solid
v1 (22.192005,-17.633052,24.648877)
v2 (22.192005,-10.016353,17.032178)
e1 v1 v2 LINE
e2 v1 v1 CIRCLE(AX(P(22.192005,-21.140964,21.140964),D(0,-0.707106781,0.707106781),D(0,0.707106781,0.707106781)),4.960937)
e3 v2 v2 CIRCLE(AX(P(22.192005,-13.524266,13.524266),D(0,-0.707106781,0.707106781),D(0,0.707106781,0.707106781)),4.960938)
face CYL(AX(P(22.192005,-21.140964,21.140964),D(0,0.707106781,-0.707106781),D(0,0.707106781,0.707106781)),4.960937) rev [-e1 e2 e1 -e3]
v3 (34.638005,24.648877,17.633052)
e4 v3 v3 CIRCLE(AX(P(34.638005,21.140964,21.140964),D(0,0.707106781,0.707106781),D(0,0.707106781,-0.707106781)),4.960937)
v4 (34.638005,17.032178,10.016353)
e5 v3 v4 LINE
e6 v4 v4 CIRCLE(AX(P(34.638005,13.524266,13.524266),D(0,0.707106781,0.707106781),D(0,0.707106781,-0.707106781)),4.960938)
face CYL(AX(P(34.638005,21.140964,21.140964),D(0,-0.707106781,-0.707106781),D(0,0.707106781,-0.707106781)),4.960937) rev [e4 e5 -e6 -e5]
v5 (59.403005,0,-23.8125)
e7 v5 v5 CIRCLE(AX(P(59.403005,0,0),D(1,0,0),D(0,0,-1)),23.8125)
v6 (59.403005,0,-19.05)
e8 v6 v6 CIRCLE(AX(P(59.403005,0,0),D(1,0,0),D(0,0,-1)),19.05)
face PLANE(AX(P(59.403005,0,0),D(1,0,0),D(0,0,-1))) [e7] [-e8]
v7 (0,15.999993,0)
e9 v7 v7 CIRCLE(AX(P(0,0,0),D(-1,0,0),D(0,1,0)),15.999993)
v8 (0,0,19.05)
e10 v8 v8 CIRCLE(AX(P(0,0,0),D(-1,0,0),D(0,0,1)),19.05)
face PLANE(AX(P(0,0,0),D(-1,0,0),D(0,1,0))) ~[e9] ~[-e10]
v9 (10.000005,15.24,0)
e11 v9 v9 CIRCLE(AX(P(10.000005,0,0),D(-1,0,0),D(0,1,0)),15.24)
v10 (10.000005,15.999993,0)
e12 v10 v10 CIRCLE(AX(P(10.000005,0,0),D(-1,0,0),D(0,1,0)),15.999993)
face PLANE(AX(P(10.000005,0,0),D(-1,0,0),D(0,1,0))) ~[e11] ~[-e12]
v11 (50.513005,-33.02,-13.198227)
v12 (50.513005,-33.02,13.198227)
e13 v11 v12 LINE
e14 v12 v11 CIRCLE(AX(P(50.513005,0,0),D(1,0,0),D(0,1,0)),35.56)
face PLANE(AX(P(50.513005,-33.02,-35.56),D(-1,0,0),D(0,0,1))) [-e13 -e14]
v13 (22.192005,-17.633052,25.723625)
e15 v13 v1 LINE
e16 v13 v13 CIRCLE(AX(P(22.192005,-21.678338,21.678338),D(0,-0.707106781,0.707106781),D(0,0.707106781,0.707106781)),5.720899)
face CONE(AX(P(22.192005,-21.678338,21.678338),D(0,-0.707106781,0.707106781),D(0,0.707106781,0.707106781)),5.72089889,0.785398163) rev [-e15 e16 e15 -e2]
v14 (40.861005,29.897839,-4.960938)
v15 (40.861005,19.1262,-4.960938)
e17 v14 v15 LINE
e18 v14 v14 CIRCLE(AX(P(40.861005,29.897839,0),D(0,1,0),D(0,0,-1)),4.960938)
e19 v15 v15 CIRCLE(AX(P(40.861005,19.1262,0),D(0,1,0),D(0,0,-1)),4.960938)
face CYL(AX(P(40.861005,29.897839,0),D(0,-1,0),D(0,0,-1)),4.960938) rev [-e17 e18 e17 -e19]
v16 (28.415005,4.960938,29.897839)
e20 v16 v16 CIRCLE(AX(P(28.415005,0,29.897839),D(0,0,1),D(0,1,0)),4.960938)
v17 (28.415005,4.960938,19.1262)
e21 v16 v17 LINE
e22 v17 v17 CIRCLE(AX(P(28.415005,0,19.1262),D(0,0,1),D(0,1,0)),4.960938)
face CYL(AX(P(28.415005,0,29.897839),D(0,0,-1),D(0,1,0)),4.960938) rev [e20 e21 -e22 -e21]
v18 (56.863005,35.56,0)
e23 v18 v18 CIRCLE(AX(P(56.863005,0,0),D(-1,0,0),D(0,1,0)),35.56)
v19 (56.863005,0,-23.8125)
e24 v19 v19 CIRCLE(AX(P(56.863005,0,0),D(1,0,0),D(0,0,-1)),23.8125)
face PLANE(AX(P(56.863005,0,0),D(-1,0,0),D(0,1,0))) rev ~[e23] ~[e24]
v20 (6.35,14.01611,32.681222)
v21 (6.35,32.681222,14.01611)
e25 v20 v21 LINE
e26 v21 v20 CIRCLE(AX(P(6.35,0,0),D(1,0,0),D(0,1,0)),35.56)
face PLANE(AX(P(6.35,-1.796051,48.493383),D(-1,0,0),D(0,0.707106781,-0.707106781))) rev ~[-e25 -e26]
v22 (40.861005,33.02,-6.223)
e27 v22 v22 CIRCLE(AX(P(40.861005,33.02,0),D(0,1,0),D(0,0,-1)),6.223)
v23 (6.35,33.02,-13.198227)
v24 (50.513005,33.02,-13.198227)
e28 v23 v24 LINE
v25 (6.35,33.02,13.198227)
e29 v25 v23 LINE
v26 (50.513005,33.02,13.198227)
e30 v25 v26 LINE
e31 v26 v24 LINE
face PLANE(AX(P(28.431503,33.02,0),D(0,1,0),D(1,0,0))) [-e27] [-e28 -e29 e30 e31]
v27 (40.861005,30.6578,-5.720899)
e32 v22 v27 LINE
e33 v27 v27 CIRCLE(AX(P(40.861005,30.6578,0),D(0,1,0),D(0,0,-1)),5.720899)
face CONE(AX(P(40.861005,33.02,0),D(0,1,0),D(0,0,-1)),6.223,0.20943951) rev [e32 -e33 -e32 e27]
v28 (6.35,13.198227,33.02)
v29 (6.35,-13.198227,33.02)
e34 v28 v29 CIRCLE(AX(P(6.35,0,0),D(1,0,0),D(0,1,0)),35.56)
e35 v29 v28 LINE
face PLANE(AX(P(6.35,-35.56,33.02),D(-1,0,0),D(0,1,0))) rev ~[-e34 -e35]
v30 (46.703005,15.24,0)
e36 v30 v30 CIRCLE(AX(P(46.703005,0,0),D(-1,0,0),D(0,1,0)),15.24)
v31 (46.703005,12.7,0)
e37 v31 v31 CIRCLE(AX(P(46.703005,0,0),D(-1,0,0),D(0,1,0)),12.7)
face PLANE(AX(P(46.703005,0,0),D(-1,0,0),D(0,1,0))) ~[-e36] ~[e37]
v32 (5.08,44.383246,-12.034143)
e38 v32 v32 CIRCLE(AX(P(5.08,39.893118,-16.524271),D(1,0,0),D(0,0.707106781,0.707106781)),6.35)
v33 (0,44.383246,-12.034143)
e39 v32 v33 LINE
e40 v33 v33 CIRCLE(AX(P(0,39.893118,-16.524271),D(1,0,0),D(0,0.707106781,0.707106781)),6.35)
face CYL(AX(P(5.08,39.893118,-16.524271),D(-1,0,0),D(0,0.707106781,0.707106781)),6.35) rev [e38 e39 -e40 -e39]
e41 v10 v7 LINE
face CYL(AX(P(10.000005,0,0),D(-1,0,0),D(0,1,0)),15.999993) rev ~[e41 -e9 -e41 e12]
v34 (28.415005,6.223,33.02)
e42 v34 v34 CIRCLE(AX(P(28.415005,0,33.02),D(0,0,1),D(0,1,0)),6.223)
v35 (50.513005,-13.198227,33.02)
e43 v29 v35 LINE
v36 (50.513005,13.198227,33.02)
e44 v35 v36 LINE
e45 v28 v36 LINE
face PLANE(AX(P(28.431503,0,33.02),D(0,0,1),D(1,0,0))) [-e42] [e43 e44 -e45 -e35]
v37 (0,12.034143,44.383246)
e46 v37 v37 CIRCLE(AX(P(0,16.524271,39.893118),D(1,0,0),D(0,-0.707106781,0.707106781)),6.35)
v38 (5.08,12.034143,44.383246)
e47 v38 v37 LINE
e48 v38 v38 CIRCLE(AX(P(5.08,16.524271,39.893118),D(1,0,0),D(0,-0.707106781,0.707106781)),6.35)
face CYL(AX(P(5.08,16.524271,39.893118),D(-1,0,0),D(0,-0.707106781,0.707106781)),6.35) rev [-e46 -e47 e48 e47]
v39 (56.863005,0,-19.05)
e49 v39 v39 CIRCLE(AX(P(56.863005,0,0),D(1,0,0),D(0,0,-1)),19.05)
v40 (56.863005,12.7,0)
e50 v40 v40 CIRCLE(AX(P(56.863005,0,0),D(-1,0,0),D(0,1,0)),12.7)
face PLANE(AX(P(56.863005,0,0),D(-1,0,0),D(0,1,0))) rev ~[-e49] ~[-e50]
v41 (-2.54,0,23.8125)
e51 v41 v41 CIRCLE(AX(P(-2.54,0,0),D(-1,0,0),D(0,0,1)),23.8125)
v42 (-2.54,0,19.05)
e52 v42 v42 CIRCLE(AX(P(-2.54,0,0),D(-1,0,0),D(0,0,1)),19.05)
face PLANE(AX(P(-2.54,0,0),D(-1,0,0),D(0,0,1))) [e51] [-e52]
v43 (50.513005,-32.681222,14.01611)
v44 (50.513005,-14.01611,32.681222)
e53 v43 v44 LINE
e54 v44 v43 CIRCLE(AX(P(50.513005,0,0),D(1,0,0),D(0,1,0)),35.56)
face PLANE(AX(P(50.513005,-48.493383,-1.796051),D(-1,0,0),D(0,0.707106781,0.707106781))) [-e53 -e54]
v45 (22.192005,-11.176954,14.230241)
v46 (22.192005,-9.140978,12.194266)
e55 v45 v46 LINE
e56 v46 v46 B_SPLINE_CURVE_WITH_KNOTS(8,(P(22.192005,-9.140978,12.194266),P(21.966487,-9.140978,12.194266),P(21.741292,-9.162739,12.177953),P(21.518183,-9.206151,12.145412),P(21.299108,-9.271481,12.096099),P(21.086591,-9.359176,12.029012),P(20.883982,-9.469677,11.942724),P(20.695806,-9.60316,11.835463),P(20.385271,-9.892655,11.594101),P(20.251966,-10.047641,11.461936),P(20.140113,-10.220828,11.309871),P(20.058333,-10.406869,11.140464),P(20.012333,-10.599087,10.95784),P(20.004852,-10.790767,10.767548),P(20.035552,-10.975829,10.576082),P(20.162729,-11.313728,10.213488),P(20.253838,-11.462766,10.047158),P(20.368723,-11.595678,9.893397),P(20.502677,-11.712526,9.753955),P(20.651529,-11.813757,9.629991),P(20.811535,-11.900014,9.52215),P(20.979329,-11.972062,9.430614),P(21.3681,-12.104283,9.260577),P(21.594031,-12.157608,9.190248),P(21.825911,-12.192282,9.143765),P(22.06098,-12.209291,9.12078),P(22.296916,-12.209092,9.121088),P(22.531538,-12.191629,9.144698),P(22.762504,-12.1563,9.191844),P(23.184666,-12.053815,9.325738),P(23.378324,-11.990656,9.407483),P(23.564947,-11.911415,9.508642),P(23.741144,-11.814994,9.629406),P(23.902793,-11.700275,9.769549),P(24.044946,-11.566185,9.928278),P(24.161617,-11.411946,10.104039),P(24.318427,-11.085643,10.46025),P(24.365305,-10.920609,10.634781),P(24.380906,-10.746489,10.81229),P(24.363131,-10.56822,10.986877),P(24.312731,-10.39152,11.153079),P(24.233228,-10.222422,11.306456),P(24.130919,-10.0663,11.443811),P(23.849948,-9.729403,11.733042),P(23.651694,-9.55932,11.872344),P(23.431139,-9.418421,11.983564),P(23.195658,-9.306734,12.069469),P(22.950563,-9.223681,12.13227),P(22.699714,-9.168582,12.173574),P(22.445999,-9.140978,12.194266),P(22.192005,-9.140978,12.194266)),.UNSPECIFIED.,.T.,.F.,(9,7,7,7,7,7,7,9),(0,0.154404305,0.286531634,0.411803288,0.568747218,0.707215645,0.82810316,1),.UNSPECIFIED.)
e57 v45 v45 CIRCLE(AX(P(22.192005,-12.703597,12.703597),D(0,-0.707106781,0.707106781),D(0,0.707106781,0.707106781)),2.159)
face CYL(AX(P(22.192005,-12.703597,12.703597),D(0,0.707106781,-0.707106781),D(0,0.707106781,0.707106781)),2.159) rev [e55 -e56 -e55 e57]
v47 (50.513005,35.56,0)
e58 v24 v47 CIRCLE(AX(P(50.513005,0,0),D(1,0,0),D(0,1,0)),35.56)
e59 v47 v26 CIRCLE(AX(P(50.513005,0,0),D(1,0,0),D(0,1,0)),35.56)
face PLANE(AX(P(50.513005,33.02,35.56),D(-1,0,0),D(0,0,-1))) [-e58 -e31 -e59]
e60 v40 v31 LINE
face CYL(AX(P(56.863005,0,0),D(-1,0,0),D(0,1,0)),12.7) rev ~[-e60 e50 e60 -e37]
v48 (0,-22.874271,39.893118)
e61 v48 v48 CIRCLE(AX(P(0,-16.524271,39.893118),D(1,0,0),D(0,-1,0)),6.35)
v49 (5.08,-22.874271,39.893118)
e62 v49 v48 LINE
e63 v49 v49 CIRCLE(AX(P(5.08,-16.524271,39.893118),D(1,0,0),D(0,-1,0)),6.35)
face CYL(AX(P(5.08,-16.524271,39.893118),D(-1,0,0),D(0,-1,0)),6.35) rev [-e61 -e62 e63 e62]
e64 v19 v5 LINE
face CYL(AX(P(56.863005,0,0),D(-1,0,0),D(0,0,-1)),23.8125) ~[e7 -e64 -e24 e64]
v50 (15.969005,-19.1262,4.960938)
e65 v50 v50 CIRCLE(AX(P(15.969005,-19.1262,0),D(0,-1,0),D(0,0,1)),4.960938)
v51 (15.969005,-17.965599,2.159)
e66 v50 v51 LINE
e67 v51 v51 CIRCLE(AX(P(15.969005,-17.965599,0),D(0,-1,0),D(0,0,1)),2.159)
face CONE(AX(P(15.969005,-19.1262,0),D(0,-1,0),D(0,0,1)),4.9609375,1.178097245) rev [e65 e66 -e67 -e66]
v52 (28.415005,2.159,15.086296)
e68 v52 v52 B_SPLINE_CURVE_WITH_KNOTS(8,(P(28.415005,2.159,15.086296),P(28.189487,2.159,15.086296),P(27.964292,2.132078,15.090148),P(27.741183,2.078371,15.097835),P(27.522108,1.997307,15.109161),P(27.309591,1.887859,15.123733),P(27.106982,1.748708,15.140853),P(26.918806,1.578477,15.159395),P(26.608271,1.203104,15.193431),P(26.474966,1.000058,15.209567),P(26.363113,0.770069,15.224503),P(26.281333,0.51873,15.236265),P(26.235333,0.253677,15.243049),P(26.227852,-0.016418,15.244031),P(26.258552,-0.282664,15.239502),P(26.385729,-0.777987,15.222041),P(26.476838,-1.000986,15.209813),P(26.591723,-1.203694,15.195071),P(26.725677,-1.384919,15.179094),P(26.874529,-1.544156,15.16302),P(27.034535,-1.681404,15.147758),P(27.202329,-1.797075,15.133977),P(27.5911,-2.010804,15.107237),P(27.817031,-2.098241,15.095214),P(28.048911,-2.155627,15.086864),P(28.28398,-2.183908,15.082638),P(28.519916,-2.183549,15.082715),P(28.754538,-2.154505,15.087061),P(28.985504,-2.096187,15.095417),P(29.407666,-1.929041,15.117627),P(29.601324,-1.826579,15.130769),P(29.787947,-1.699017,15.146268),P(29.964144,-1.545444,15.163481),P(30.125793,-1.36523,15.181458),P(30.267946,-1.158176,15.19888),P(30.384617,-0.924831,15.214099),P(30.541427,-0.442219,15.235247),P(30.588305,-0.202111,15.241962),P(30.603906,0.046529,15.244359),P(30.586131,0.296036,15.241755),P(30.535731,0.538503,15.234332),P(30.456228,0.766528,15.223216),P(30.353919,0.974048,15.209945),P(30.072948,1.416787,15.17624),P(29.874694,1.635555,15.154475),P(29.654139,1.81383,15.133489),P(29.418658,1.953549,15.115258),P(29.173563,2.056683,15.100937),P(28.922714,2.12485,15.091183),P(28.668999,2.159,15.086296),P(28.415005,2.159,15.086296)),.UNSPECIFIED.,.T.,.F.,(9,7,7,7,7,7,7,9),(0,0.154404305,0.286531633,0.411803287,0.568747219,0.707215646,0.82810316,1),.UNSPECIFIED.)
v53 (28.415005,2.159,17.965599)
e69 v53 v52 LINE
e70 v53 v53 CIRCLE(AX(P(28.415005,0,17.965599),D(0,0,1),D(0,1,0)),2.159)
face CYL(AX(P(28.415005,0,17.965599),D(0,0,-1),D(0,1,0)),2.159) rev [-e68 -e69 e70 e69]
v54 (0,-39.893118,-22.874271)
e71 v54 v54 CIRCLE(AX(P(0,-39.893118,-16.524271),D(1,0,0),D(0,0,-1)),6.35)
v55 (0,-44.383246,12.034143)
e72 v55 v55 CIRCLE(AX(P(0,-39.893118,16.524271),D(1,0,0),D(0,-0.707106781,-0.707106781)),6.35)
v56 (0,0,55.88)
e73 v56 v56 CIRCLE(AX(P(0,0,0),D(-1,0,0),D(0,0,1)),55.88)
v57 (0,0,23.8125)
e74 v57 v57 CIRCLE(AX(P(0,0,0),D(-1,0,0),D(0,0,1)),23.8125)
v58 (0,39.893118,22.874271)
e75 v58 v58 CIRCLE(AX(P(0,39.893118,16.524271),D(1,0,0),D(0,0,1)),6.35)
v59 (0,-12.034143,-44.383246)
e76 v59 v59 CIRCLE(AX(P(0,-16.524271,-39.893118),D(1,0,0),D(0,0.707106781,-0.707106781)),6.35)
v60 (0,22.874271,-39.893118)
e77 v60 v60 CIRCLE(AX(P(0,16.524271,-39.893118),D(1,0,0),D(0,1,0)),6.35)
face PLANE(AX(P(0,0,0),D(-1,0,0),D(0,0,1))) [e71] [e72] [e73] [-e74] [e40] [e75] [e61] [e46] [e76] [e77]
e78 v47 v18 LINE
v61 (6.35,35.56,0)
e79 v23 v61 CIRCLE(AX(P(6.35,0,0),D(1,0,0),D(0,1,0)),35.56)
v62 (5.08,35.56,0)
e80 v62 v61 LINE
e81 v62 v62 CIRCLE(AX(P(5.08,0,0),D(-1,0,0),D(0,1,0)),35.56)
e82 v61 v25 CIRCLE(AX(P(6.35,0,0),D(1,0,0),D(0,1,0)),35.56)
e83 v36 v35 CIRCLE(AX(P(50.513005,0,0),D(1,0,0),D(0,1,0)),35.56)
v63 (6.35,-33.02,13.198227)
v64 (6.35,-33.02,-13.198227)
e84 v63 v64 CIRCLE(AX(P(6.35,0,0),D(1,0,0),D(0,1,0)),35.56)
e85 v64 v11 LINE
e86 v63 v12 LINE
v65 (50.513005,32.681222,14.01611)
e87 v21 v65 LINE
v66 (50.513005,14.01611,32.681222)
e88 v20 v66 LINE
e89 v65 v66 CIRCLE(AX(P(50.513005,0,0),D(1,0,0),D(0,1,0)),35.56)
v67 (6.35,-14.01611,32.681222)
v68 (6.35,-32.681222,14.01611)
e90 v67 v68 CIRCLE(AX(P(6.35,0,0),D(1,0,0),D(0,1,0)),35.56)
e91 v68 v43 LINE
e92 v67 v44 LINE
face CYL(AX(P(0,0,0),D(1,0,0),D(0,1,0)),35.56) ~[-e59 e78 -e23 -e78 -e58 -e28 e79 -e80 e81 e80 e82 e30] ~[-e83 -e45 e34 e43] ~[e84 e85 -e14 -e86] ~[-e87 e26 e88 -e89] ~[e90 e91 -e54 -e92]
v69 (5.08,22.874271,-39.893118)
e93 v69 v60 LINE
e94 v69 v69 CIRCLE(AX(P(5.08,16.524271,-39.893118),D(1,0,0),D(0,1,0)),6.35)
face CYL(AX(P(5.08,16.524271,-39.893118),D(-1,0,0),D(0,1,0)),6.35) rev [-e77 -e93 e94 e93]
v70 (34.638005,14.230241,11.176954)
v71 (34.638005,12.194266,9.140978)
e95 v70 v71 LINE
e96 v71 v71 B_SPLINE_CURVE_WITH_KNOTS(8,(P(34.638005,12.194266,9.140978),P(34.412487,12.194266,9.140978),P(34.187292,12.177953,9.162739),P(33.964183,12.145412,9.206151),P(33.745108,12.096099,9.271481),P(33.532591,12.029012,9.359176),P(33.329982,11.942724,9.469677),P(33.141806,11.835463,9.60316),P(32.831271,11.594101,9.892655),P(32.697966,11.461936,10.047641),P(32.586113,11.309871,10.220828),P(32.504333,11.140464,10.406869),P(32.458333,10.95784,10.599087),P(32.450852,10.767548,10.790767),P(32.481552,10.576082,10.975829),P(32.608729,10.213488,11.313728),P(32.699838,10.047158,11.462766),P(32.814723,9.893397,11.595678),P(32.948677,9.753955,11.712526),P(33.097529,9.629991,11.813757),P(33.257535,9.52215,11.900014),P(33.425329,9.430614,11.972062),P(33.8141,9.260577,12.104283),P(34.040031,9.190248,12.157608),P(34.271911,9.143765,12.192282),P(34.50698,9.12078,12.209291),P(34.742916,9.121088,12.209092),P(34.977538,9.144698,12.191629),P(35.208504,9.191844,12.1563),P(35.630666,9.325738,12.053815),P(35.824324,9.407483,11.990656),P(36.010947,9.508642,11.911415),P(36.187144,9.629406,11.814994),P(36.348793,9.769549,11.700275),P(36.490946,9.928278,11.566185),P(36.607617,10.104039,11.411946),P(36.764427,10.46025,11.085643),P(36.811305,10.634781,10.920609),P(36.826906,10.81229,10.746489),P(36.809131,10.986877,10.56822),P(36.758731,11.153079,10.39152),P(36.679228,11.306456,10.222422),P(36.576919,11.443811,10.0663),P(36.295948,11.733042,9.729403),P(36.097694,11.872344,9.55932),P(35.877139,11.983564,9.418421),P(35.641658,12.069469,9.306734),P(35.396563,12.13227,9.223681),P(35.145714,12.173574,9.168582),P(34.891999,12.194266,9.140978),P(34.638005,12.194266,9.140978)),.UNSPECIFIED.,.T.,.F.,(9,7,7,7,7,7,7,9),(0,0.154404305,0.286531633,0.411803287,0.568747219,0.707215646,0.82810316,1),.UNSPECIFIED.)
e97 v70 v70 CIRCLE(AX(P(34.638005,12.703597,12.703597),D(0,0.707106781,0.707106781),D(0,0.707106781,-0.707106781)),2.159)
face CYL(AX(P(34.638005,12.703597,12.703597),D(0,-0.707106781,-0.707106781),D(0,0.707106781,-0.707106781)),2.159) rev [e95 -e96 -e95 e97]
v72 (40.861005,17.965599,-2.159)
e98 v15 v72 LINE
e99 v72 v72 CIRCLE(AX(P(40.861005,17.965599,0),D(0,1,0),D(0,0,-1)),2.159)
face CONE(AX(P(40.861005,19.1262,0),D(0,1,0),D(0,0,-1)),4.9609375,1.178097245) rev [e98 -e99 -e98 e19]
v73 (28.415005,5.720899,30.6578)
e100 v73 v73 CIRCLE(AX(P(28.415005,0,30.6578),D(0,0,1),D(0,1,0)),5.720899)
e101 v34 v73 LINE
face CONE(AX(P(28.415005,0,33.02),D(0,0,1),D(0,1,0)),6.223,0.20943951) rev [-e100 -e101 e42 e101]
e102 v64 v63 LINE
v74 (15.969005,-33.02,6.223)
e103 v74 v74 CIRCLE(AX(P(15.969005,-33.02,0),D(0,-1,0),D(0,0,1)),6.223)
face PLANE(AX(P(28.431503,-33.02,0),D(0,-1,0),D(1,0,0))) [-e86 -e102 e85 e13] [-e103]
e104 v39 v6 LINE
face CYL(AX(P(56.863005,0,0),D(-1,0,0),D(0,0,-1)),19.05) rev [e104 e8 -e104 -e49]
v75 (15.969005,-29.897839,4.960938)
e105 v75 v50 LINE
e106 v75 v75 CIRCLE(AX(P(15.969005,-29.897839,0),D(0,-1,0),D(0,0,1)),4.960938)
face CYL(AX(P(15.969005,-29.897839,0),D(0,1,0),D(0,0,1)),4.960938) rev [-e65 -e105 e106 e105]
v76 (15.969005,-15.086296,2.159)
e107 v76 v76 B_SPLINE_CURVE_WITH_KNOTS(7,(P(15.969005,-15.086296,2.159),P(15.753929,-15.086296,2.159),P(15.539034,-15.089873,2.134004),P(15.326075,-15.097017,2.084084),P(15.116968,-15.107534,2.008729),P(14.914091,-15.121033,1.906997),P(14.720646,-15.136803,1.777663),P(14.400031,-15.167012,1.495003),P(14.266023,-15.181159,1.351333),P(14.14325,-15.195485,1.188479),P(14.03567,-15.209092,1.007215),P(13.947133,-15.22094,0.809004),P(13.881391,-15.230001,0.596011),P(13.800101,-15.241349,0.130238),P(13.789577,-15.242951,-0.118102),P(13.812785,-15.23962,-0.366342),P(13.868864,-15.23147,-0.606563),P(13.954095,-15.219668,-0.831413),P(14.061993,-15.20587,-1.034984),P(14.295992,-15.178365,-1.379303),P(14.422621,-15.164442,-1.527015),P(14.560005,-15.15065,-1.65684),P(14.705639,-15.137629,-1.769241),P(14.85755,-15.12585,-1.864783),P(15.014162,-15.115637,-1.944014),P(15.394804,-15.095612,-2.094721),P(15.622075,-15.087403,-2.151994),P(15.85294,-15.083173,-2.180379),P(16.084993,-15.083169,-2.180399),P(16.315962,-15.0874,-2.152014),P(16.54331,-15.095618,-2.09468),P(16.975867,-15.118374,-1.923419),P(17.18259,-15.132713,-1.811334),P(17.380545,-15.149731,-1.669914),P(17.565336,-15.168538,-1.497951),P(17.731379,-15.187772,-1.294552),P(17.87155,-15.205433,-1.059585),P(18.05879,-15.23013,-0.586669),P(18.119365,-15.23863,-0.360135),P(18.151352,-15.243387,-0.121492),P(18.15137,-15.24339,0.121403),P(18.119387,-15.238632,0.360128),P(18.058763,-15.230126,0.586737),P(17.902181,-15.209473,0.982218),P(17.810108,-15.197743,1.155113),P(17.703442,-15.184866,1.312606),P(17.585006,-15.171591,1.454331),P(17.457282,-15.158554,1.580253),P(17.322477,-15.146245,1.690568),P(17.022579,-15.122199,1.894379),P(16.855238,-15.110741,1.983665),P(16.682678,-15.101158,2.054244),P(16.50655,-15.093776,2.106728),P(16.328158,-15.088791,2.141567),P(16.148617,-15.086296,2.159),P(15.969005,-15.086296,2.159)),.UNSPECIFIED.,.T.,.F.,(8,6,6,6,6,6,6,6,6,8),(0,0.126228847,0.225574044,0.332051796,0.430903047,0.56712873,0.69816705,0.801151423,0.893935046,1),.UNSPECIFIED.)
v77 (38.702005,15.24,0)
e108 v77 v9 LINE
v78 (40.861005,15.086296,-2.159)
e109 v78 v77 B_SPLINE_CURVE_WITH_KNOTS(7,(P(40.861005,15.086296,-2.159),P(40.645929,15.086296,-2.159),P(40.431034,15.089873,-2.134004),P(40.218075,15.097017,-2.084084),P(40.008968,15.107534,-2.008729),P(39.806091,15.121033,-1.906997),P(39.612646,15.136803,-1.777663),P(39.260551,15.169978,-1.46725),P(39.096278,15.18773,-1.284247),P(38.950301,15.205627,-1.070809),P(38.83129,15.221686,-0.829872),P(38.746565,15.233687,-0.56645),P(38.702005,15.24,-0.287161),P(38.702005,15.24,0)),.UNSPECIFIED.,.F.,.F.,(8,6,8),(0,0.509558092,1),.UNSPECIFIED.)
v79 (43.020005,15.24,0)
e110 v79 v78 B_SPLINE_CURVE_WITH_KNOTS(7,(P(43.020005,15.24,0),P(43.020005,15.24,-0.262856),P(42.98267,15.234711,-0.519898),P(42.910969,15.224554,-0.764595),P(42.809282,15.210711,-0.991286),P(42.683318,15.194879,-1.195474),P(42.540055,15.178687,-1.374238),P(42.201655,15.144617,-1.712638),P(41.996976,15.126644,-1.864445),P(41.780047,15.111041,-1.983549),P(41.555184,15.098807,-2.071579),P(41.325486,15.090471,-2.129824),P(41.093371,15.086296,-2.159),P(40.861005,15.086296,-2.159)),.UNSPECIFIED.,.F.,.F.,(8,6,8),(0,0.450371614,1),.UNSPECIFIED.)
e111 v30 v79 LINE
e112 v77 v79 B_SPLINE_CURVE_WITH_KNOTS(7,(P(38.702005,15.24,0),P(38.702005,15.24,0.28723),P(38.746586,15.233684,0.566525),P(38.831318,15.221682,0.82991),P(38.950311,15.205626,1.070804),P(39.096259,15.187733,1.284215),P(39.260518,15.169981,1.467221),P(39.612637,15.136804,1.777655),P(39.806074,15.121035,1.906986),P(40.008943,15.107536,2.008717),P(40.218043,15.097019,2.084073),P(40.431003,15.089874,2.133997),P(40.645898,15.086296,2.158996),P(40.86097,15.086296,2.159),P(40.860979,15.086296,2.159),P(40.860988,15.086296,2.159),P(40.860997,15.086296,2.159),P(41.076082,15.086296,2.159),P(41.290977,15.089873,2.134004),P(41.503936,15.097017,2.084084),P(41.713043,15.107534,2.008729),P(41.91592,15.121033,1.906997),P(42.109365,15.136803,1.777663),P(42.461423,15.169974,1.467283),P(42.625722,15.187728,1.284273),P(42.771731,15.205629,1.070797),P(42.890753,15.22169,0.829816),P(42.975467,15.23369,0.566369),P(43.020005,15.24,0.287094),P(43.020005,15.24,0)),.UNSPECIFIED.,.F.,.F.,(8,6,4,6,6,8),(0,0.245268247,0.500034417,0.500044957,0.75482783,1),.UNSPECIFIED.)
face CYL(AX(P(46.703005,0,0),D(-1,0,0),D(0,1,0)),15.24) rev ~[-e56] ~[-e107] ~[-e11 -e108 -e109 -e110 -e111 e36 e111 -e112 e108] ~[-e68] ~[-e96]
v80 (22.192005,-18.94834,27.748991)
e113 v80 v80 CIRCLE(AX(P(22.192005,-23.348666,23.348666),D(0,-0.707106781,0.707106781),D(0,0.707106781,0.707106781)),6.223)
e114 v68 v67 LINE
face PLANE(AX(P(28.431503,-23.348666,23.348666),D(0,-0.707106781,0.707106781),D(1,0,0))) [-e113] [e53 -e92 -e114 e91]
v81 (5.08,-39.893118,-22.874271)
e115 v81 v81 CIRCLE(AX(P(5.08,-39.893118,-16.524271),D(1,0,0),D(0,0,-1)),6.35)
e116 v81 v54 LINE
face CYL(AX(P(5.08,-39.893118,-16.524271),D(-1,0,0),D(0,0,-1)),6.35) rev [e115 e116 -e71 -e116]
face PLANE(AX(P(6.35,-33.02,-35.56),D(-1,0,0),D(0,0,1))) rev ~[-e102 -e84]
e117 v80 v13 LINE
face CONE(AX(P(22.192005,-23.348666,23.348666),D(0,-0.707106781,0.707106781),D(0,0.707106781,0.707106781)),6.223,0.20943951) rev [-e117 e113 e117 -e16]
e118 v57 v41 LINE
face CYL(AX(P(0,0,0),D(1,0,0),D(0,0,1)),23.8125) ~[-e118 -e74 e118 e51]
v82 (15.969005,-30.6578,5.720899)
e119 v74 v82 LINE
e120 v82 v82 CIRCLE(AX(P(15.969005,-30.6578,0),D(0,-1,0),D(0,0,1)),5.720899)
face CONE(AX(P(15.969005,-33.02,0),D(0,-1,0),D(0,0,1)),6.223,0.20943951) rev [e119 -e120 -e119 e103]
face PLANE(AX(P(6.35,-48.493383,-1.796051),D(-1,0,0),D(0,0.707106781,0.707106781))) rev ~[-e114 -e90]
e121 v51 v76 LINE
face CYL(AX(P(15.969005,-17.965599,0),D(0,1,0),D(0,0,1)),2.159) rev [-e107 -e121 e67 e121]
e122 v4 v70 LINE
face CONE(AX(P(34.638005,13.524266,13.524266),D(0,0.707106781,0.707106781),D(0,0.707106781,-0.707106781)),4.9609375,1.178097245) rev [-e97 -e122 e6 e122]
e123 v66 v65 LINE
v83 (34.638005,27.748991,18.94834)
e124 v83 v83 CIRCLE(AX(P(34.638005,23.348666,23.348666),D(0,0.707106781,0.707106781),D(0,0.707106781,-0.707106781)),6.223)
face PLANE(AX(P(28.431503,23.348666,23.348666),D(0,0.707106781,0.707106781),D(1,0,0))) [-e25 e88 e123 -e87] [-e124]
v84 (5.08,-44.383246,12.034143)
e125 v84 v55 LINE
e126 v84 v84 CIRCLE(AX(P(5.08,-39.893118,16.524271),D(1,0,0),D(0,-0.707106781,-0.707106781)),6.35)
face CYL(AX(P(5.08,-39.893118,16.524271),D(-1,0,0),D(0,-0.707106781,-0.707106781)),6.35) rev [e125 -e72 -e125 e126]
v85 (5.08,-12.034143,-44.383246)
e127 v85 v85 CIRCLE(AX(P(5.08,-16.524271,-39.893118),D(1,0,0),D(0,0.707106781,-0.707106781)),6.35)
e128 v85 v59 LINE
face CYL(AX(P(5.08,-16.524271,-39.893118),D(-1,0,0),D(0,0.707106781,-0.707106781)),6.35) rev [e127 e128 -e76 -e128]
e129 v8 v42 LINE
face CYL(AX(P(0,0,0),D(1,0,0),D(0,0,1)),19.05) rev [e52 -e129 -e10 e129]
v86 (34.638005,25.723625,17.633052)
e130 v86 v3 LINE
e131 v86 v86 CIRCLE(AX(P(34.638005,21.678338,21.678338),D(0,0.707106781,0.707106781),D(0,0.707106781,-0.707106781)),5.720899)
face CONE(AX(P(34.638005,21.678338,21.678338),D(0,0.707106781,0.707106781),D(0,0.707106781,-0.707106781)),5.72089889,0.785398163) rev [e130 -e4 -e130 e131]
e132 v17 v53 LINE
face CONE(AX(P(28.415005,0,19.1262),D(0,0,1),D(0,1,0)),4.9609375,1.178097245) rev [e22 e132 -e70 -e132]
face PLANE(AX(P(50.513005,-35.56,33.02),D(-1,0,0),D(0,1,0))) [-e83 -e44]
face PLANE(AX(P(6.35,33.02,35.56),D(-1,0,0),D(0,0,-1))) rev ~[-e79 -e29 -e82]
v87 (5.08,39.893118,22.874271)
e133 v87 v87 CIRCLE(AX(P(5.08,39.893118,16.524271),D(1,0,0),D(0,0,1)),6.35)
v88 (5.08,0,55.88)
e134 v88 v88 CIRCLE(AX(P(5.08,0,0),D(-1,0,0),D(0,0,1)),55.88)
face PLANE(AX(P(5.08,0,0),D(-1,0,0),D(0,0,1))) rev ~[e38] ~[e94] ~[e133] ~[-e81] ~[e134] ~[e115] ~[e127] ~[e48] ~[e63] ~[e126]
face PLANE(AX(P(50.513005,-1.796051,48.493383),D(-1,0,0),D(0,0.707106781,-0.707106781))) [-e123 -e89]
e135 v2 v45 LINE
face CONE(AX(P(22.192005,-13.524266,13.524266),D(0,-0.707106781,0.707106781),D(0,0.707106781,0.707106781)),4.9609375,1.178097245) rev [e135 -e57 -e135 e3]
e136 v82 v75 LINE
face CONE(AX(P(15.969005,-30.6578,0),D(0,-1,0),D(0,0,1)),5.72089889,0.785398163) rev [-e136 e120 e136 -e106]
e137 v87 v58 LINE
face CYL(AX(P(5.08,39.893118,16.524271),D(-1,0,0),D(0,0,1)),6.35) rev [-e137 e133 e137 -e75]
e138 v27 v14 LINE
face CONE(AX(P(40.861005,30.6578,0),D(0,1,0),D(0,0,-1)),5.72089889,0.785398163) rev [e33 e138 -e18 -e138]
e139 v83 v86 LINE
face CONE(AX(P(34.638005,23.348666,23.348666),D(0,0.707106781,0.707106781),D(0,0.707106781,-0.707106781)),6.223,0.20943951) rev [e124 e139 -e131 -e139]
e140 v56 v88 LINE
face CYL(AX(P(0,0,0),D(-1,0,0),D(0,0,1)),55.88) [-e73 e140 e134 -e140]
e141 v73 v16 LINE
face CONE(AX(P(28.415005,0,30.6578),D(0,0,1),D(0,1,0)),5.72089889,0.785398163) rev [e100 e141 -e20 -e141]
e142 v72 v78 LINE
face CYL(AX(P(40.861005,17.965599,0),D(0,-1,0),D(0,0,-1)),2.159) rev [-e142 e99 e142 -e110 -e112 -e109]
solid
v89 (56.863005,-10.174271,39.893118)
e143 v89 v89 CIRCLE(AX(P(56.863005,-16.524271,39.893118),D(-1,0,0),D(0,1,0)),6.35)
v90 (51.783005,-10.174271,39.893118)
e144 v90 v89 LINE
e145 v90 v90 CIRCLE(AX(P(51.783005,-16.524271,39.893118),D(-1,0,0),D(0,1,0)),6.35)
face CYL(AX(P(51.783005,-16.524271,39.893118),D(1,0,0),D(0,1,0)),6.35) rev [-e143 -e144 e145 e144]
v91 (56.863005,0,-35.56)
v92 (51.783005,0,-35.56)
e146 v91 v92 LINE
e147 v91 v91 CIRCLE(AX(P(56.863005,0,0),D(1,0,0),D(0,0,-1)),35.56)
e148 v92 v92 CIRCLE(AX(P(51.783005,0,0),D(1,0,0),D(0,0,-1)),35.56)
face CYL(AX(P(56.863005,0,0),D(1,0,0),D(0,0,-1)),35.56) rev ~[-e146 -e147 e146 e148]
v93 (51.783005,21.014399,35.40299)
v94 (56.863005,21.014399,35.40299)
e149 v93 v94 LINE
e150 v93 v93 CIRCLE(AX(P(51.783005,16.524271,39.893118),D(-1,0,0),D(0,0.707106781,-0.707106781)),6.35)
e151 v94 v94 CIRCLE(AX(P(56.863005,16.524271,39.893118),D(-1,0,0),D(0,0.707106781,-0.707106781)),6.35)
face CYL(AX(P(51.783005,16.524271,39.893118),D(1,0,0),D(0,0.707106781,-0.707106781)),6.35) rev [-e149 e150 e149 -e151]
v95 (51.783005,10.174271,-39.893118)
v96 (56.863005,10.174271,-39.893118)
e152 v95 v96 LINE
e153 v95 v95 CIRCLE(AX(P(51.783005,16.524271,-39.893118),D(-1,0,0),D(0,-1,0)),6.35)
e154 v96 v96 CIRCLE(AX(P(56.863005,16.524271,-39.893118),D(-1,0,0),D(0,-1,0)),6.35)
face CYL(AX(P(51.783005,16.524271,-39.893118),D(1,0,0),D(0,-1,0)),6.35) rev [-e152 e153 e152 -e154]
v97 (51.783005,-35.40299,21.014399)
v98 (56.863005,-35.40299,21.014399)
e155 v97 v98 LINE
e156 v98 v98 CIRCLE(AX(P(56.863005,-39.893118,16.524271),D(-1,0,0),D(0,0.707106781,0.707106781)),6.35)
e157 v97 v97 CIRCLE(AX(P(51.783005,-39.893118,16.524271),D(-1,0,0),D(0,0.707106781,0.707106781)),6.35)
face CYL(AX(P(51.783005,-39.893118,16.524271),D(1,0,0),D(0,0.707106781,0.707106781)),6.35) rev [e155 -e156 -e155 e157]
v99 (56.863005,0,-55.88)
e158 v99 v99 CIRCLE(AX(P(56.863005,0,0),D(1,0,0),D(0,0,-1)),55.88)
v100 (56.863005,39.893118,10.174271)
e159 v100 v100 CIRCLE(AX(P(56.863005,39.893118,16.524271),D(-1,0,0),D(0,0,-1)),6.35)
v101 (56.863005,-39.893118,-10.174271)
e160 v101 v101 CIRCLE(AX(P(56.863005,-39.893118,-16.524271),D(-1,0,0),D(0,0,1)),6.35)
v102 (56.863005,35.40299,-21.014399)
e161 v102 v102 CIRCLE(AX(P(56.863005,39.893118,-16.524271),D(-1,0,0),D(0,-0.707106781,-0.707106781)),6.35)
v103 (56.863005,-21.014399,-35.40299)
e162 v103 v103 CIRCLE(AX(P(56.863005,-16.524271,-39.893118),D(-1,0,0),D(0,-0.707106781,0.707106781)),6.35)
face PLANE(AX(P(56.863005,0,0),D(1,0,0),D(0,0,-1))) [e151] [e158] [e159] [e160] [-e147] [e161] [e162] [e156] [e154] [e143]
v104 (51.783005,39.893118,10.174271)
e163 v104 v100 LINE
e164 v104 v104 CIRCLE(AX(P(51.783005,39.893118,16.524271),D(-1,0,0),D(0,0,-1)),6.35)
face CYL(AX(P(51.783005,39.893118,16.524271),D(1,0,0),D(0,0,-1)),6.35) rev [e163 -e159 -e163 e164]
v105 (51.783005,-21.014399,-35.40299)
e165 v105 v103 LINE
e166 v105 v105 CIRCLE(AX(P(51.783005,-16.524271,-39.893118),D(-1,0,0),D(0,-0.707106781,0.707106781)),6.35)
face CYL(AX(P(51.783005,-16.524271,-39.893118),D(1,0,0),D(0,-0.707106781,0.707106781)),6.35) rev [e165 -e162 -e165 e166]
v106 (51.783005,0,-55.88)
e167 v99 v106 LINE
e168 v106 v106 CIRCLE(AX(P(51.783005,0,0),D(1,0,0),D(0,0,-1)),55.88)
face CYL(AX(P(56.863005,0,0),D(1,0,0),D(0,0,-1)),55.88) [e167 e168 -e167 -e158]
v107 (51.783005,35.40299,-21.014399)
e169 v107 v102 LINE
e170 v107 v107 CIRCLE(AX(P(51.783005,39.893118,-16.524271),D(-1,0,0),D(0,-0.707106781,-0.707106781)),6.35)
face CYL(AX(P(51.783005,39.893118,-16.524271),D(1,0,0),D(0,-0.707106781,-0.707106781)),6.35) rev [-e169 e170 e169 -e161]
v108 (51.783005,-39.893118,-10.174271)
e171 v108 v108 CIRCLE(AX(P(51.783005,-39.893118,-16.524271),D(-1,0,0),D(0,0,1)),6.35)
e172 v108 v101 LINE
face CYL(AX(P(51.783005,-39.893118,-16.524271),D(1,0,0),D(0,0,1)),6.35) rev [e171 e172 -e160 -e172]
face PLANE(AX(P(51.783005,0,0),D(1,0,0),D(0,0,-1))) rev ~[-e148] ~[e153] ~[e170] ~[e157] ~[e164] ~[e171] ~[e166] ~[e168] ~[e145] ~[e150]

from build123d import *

# Parameters (mm, degrees)
SKETCH2_R                      = 23.8125
SKETCH2_R_2                    = 19.05
LOX_SIDE_HEATSHRINK_RING_DEPTH = 2.54
SKETCH3_R                      = 23.8125
SKETCH3_R_2                    = 19.05
FUEL_HEATSHRINK_RING_DEPTH     = 2.54
CUT_EXTRUDE3_START             = 33.02
SKETCH10_W                     = 44.1630054
SKETCH10_H                     = 71.12
CUT_EXTRUDE3_DEPTH             = 5.08
CIRPATTERN1_COUNT              = 5
CIRPATTERN1_ANGLE              = 180
SKETCH37_R                     = 55.88
SKETCH37_R_2                   = 35.56
BOSS_EXTRUDE1_DEPTH            = 5.08
SKETCH38_R                     = 55.88
SKETCH38_R_2                   = 35.56
BOSS_EXTRUDE2_DEPTH            = 5.08
CIRPATTERN2_COUNT              = 8
CIRPATTERN3_COUNT              = 8


with BuildPart() as part:
    # Sketch1 → Revolve1 (revolve)
    with BuildSketch(Plane.XY):
        Polygon((46.7030054, 15.24), (10.0000054, 15.24), (10.0000054, 15.9999934), (0, 15.9999934), (0, 35.56), (56.8630054, 35.56), (56.8630054, 12.7), (46.7030054, 12.7), align=None)
    revolve(axis=Axis((0, 0, 0), (-1, 0, 0)))

    # Sketch2 → lox side heatshrink ring (add)
    with BuildSketch(Plane.ZY):
        Circle(SKETCH2_R)
        Circle(SKETCH2_R_2, mode=Mode.SUBTRACT)
    extrude(amount=LOX_SIDE_HEATSHRINK_RING_DEPTH)

    # Sketch3 → fuel heatshrink ring (add)
    with BuildSketch(Plane(origin=(56.8630054, 0, 0), x_dir=(0, 0, -1), z_dir=(1, 0, 0))):
        Circle(SKETCH3_R)
        Circle(SKETCH3_R_2, mode=Mode.SUBTRACT)
    extrude(amount=FUEL_HEATSHRINK_RING_DEPTH)

    # Sketch10 → Cut-Extrude3 (cut)
    with BuildSketch(Plane(origin=(0, 0, 0), x_dir=(1, 0, 0), z_dir=(0, 1, 0)).offset(CUT_EXTRUDE3_START)):
        with Locations((28.4315027, 0)):
            Rectangle(SKETCH10_W, SKETCH10_H)
    cut_extrude3 = extrude(amount=CUT_EXTRUDE3_DEPTH, mode=Mode.SUBTRACT)

    # CirPattern1: Cut-Extrude3 ×5 about axis
    cirpattern1_axis = Axis((0, 0, 0), (1, 0, 0))
    for i in range(1, CIRPATTERN1_COUNT):
        add(cut_extrude3.rotate(cirpattern1_axis, i * CIRPATTERN1_ANGLE / (CIRPATTERN1_COUNT - 1)), mode=Mode.SUBTRACT)

    # Sketch16 → fuel recycle port (revolve, cut)
    with BuildSketch(Plane.ZY.offset(-40.8610054)):
        with BuildLine():
            Line((0, 33.02), (-6.223, 33.02))
            Line((-6.223, 33.02), (-5.72089889, 30.6578))
            Line((-5.72089889, 30.6578), (-4.9609375, 29.89783861))
            Line((-4.9609375, 29.89783861), (-4.9609375, 19.1262))
            Line((-4.9609375, 19.1262), (-2.159, 17.965599487))
            Line((-2.159, 17.965599487), (-2.159, 15.086295735))
            ThreePointArc((-2.159, 15.086295735), (-1.082232184, 15.201525368), (0, 15.24))
            Line((0, 15.24), (0, 33.02))
        make_face()
    revolve(axis=Axis((40.8610054, 15.24, 0), (0, 1, 0)), mode=Mode.SUBTRACT)

    # Sketch18 → fuel drain port (revolve, cut)
    with BuildSketch(Plane.ZY.offset(-34.6380054)):
        with BuildLine():
            Line((23.348665915, 23.348665915), (18.948340415, 27.748991414))
            Line((18.948340415, 27.748991414), (17.633051877, 25.723624676))
            Line((17.633051877, 25.723624676), (17.633051877, 24.648876971))
            Line((17.633051877, 24.648876971), (10.016353171, 17.032178266))
            Line((10.016353171, 17.032178266), (11.176953684, 14.230240766))
            Line((11.176953684, 14.230240766), (9.140978477, 12.194265558))
            ThreePointArc((9.140978477, 12.194265558), (9.983847956, 11.514355388), (10.776307345, 10.776307345))
            Line((10.776307345, 10.776307345), (23.348665915, 23.348665915))
        make_face()
    revolve(axis=Axis((34.6380054, 10.776307345, 10.776307345), (0, 0.707106781, 0.707106781)), mode=Mode.SUBTRACT)

    # Sketch34 → Cut-Revolve3 (revolve, cut)
    with BuildSketch(Plane.ZY.offset(-28.4150054)):
        with BuildLine():
            Line((33.02, 0), (33.02, 6.223))
            Line((33.02, 6.223), (30.6578, 5.72089889))
            Line((30.6578, 5.72089889), (29.89783861, 4.9609375))
            Line((29.89783861, 4.9609375), (19.1262, 4.9609375))
            Line((19.1262, 4.9609375), (17.965599487, 2.159))
            Line((17.965599487, 2.159), (15.086295735, 2.159))
            ThreePointArc((15.086295735, 2.159), (15.201525368, 1.082232184), (15.24, 0))
            Line((15.24, 0), (33.02, 0))
        make_face()
    revolve(axis=Axis((28.4150054, 0, 15.24), (0, 0, 1)), mode=Mode.SUBTRACT)

    # Sketch35 → Cut-Revolve4 (revolve, cut)
    with BuildSketch(Plane.ZY.offset(-22.1920054)):
        with BuildLine():
            Line((23.348665915, -23.348665915), (27.748991414, -18.948340415))
            Line((27.748991414, -18.948340415), (25.723624676, -17.633051877))
            Line((25.723624676, -17.633051877), (24.648876971, -17.633051877))
            Line((24.648876971, -17.633051877), (17.032178266, -10.016353171))
            Line((17.032178266, -10.016353171), (14.230240766, -11.176953684))
            Line((14.230240766, -11.176953684), (12.194265558, -9.140978477))
            ThreePointArc((12.194265558, -9.140978477), (11.514355388, -9.983847956), (10.776307345, -10.776307345))
            Line((10.776307345, -10.776307345), (23.348665915, -23.348665915))
        make_face()
    revolve(axis=Axis((22.1920054, -10.776307345, 10.776307345), (0, -0.707106781, 0.707106781)), mode=Mode.SUBTRACT)

    # Sketch36 → Cut-Revolve5 (revolve, cut)
    with BuildSketch(Plane.ZY.offset(-15.9690054)):
        with BuildLine():
            Line((0, -33.02), (6.223, -33.02))
            Line((6.223, -33.02), (5.72089889, -30.6578))
            Line((5.72089889, -30.6578), (4.9609375, -29.89783861))
            Line((4.9609375, -29.89783861), (4.9609375, -19.1262))
            Line((4.9609375, -19.1262), (2.159, -17.965599487))
            Line((2.159, -17.965599487), (2.159, -15.086295735))
            ThreePointArc((2.159, -15.086295735), (1.082232184, -15.201525368), (0, -15.24))
            Line((0, -15.24), (0, -33.02))
        make_face()
    revolve(axis=Axis((15.9690054, -15.24, 0), (0, -1, 0)), mode=Mode.SUBTRACT)

    # Sketch38 → Boss-Extrude2 (add)
    with BuildSketch(Plane.ZY):
        Circle(SKETCH38_R)
        Circle(SKETCH38_R_2, mode=Mode.SUBTRACT)
    extrude(amount=-BOSS_EXTRUDE2_DEPTH)

    # Sketch41 → 1/2 (0.5) Diameter Hole1 (revolve, cut)
    with BuildSketch(Plane(origin=(0, 39.893118214, 16.52427061), x_dir=(0, 0, 1), z_dir=(0, 1, 0))):
        Polygon((0, 0), (0, 8.895464931), (6.35, 5.08), (6.35, 0), align=None)
    f_1_2_0_5_diameter_hole1 = revolve(axis=Axis((-6.35, 39.893118214, 16.52427061), (1, 0, 0)), mode=Mode.SUBTRACT)

    # CirPattern2: 1/2 (0.5) Diameter Hole1 ×8 about axis
    cirpattern2_axis = Axis((0, 0, 0), (1, 0, 0))
    for i in range(1, CIRPATTERN2_COUNT):
        add(f_1_2_0_5_diameter_hole1.rotate(cirpattern2_axis, i * 360 / CIRPATTERN2_COUNT), mode=Mode.SUBTRACT)


with BuildPart() as body_2:
    # Sketch37 → Boss-Extrude1 (new body)
    with BuildSketch(Plane(origin=(56.8630054, 0, 0), x_dir=(0, 0, -1), z_dir=(1, 0, 0))):
        Circle(SKETCH37_R)
        Circle(SKETCH37_R_2, mode=Mode.SUBTRACT)
    extrude(amount=-BOSS_EXTRUDE1_DEPTH)

    # Sketch43 → 1/2 (0.5) Diameter Hole2 (revolve, cut)
    with BuildSketch(Plane(origin=(56.8630054, 39.893118214, 16.52427061), x_dir=(0, 0, -1), z_dir=(0, 1, 0))):
        Polygon((0, 0), (0, 8.895464931), (6.35, 5.08), (6.35, 0), align=None)
    f_1_2_0_5_diameter_hole2 = revolve(axis=Axis((63.2130054, 39.893118214, 16.52427061), (-1, 0, 0)), mode=Mode.SUBTRACT)

    # CirPattern3: 1/2 (0.5) Diameter Hole2 ×8 about axis
    cirpattern3_axis = Axis((0, 0, 0), (1, 0, 0))
    for i in range(1, CIRPATTERN3_COUNT):
        add(f_1_2_0_5_diameter_hole2.rotate(cirpattern3_axis, i * 360 / CIRPATTERN3_COUNT), mode=Mode.SUBTRACT)


solid = Compound([part.part, body_2.part])
